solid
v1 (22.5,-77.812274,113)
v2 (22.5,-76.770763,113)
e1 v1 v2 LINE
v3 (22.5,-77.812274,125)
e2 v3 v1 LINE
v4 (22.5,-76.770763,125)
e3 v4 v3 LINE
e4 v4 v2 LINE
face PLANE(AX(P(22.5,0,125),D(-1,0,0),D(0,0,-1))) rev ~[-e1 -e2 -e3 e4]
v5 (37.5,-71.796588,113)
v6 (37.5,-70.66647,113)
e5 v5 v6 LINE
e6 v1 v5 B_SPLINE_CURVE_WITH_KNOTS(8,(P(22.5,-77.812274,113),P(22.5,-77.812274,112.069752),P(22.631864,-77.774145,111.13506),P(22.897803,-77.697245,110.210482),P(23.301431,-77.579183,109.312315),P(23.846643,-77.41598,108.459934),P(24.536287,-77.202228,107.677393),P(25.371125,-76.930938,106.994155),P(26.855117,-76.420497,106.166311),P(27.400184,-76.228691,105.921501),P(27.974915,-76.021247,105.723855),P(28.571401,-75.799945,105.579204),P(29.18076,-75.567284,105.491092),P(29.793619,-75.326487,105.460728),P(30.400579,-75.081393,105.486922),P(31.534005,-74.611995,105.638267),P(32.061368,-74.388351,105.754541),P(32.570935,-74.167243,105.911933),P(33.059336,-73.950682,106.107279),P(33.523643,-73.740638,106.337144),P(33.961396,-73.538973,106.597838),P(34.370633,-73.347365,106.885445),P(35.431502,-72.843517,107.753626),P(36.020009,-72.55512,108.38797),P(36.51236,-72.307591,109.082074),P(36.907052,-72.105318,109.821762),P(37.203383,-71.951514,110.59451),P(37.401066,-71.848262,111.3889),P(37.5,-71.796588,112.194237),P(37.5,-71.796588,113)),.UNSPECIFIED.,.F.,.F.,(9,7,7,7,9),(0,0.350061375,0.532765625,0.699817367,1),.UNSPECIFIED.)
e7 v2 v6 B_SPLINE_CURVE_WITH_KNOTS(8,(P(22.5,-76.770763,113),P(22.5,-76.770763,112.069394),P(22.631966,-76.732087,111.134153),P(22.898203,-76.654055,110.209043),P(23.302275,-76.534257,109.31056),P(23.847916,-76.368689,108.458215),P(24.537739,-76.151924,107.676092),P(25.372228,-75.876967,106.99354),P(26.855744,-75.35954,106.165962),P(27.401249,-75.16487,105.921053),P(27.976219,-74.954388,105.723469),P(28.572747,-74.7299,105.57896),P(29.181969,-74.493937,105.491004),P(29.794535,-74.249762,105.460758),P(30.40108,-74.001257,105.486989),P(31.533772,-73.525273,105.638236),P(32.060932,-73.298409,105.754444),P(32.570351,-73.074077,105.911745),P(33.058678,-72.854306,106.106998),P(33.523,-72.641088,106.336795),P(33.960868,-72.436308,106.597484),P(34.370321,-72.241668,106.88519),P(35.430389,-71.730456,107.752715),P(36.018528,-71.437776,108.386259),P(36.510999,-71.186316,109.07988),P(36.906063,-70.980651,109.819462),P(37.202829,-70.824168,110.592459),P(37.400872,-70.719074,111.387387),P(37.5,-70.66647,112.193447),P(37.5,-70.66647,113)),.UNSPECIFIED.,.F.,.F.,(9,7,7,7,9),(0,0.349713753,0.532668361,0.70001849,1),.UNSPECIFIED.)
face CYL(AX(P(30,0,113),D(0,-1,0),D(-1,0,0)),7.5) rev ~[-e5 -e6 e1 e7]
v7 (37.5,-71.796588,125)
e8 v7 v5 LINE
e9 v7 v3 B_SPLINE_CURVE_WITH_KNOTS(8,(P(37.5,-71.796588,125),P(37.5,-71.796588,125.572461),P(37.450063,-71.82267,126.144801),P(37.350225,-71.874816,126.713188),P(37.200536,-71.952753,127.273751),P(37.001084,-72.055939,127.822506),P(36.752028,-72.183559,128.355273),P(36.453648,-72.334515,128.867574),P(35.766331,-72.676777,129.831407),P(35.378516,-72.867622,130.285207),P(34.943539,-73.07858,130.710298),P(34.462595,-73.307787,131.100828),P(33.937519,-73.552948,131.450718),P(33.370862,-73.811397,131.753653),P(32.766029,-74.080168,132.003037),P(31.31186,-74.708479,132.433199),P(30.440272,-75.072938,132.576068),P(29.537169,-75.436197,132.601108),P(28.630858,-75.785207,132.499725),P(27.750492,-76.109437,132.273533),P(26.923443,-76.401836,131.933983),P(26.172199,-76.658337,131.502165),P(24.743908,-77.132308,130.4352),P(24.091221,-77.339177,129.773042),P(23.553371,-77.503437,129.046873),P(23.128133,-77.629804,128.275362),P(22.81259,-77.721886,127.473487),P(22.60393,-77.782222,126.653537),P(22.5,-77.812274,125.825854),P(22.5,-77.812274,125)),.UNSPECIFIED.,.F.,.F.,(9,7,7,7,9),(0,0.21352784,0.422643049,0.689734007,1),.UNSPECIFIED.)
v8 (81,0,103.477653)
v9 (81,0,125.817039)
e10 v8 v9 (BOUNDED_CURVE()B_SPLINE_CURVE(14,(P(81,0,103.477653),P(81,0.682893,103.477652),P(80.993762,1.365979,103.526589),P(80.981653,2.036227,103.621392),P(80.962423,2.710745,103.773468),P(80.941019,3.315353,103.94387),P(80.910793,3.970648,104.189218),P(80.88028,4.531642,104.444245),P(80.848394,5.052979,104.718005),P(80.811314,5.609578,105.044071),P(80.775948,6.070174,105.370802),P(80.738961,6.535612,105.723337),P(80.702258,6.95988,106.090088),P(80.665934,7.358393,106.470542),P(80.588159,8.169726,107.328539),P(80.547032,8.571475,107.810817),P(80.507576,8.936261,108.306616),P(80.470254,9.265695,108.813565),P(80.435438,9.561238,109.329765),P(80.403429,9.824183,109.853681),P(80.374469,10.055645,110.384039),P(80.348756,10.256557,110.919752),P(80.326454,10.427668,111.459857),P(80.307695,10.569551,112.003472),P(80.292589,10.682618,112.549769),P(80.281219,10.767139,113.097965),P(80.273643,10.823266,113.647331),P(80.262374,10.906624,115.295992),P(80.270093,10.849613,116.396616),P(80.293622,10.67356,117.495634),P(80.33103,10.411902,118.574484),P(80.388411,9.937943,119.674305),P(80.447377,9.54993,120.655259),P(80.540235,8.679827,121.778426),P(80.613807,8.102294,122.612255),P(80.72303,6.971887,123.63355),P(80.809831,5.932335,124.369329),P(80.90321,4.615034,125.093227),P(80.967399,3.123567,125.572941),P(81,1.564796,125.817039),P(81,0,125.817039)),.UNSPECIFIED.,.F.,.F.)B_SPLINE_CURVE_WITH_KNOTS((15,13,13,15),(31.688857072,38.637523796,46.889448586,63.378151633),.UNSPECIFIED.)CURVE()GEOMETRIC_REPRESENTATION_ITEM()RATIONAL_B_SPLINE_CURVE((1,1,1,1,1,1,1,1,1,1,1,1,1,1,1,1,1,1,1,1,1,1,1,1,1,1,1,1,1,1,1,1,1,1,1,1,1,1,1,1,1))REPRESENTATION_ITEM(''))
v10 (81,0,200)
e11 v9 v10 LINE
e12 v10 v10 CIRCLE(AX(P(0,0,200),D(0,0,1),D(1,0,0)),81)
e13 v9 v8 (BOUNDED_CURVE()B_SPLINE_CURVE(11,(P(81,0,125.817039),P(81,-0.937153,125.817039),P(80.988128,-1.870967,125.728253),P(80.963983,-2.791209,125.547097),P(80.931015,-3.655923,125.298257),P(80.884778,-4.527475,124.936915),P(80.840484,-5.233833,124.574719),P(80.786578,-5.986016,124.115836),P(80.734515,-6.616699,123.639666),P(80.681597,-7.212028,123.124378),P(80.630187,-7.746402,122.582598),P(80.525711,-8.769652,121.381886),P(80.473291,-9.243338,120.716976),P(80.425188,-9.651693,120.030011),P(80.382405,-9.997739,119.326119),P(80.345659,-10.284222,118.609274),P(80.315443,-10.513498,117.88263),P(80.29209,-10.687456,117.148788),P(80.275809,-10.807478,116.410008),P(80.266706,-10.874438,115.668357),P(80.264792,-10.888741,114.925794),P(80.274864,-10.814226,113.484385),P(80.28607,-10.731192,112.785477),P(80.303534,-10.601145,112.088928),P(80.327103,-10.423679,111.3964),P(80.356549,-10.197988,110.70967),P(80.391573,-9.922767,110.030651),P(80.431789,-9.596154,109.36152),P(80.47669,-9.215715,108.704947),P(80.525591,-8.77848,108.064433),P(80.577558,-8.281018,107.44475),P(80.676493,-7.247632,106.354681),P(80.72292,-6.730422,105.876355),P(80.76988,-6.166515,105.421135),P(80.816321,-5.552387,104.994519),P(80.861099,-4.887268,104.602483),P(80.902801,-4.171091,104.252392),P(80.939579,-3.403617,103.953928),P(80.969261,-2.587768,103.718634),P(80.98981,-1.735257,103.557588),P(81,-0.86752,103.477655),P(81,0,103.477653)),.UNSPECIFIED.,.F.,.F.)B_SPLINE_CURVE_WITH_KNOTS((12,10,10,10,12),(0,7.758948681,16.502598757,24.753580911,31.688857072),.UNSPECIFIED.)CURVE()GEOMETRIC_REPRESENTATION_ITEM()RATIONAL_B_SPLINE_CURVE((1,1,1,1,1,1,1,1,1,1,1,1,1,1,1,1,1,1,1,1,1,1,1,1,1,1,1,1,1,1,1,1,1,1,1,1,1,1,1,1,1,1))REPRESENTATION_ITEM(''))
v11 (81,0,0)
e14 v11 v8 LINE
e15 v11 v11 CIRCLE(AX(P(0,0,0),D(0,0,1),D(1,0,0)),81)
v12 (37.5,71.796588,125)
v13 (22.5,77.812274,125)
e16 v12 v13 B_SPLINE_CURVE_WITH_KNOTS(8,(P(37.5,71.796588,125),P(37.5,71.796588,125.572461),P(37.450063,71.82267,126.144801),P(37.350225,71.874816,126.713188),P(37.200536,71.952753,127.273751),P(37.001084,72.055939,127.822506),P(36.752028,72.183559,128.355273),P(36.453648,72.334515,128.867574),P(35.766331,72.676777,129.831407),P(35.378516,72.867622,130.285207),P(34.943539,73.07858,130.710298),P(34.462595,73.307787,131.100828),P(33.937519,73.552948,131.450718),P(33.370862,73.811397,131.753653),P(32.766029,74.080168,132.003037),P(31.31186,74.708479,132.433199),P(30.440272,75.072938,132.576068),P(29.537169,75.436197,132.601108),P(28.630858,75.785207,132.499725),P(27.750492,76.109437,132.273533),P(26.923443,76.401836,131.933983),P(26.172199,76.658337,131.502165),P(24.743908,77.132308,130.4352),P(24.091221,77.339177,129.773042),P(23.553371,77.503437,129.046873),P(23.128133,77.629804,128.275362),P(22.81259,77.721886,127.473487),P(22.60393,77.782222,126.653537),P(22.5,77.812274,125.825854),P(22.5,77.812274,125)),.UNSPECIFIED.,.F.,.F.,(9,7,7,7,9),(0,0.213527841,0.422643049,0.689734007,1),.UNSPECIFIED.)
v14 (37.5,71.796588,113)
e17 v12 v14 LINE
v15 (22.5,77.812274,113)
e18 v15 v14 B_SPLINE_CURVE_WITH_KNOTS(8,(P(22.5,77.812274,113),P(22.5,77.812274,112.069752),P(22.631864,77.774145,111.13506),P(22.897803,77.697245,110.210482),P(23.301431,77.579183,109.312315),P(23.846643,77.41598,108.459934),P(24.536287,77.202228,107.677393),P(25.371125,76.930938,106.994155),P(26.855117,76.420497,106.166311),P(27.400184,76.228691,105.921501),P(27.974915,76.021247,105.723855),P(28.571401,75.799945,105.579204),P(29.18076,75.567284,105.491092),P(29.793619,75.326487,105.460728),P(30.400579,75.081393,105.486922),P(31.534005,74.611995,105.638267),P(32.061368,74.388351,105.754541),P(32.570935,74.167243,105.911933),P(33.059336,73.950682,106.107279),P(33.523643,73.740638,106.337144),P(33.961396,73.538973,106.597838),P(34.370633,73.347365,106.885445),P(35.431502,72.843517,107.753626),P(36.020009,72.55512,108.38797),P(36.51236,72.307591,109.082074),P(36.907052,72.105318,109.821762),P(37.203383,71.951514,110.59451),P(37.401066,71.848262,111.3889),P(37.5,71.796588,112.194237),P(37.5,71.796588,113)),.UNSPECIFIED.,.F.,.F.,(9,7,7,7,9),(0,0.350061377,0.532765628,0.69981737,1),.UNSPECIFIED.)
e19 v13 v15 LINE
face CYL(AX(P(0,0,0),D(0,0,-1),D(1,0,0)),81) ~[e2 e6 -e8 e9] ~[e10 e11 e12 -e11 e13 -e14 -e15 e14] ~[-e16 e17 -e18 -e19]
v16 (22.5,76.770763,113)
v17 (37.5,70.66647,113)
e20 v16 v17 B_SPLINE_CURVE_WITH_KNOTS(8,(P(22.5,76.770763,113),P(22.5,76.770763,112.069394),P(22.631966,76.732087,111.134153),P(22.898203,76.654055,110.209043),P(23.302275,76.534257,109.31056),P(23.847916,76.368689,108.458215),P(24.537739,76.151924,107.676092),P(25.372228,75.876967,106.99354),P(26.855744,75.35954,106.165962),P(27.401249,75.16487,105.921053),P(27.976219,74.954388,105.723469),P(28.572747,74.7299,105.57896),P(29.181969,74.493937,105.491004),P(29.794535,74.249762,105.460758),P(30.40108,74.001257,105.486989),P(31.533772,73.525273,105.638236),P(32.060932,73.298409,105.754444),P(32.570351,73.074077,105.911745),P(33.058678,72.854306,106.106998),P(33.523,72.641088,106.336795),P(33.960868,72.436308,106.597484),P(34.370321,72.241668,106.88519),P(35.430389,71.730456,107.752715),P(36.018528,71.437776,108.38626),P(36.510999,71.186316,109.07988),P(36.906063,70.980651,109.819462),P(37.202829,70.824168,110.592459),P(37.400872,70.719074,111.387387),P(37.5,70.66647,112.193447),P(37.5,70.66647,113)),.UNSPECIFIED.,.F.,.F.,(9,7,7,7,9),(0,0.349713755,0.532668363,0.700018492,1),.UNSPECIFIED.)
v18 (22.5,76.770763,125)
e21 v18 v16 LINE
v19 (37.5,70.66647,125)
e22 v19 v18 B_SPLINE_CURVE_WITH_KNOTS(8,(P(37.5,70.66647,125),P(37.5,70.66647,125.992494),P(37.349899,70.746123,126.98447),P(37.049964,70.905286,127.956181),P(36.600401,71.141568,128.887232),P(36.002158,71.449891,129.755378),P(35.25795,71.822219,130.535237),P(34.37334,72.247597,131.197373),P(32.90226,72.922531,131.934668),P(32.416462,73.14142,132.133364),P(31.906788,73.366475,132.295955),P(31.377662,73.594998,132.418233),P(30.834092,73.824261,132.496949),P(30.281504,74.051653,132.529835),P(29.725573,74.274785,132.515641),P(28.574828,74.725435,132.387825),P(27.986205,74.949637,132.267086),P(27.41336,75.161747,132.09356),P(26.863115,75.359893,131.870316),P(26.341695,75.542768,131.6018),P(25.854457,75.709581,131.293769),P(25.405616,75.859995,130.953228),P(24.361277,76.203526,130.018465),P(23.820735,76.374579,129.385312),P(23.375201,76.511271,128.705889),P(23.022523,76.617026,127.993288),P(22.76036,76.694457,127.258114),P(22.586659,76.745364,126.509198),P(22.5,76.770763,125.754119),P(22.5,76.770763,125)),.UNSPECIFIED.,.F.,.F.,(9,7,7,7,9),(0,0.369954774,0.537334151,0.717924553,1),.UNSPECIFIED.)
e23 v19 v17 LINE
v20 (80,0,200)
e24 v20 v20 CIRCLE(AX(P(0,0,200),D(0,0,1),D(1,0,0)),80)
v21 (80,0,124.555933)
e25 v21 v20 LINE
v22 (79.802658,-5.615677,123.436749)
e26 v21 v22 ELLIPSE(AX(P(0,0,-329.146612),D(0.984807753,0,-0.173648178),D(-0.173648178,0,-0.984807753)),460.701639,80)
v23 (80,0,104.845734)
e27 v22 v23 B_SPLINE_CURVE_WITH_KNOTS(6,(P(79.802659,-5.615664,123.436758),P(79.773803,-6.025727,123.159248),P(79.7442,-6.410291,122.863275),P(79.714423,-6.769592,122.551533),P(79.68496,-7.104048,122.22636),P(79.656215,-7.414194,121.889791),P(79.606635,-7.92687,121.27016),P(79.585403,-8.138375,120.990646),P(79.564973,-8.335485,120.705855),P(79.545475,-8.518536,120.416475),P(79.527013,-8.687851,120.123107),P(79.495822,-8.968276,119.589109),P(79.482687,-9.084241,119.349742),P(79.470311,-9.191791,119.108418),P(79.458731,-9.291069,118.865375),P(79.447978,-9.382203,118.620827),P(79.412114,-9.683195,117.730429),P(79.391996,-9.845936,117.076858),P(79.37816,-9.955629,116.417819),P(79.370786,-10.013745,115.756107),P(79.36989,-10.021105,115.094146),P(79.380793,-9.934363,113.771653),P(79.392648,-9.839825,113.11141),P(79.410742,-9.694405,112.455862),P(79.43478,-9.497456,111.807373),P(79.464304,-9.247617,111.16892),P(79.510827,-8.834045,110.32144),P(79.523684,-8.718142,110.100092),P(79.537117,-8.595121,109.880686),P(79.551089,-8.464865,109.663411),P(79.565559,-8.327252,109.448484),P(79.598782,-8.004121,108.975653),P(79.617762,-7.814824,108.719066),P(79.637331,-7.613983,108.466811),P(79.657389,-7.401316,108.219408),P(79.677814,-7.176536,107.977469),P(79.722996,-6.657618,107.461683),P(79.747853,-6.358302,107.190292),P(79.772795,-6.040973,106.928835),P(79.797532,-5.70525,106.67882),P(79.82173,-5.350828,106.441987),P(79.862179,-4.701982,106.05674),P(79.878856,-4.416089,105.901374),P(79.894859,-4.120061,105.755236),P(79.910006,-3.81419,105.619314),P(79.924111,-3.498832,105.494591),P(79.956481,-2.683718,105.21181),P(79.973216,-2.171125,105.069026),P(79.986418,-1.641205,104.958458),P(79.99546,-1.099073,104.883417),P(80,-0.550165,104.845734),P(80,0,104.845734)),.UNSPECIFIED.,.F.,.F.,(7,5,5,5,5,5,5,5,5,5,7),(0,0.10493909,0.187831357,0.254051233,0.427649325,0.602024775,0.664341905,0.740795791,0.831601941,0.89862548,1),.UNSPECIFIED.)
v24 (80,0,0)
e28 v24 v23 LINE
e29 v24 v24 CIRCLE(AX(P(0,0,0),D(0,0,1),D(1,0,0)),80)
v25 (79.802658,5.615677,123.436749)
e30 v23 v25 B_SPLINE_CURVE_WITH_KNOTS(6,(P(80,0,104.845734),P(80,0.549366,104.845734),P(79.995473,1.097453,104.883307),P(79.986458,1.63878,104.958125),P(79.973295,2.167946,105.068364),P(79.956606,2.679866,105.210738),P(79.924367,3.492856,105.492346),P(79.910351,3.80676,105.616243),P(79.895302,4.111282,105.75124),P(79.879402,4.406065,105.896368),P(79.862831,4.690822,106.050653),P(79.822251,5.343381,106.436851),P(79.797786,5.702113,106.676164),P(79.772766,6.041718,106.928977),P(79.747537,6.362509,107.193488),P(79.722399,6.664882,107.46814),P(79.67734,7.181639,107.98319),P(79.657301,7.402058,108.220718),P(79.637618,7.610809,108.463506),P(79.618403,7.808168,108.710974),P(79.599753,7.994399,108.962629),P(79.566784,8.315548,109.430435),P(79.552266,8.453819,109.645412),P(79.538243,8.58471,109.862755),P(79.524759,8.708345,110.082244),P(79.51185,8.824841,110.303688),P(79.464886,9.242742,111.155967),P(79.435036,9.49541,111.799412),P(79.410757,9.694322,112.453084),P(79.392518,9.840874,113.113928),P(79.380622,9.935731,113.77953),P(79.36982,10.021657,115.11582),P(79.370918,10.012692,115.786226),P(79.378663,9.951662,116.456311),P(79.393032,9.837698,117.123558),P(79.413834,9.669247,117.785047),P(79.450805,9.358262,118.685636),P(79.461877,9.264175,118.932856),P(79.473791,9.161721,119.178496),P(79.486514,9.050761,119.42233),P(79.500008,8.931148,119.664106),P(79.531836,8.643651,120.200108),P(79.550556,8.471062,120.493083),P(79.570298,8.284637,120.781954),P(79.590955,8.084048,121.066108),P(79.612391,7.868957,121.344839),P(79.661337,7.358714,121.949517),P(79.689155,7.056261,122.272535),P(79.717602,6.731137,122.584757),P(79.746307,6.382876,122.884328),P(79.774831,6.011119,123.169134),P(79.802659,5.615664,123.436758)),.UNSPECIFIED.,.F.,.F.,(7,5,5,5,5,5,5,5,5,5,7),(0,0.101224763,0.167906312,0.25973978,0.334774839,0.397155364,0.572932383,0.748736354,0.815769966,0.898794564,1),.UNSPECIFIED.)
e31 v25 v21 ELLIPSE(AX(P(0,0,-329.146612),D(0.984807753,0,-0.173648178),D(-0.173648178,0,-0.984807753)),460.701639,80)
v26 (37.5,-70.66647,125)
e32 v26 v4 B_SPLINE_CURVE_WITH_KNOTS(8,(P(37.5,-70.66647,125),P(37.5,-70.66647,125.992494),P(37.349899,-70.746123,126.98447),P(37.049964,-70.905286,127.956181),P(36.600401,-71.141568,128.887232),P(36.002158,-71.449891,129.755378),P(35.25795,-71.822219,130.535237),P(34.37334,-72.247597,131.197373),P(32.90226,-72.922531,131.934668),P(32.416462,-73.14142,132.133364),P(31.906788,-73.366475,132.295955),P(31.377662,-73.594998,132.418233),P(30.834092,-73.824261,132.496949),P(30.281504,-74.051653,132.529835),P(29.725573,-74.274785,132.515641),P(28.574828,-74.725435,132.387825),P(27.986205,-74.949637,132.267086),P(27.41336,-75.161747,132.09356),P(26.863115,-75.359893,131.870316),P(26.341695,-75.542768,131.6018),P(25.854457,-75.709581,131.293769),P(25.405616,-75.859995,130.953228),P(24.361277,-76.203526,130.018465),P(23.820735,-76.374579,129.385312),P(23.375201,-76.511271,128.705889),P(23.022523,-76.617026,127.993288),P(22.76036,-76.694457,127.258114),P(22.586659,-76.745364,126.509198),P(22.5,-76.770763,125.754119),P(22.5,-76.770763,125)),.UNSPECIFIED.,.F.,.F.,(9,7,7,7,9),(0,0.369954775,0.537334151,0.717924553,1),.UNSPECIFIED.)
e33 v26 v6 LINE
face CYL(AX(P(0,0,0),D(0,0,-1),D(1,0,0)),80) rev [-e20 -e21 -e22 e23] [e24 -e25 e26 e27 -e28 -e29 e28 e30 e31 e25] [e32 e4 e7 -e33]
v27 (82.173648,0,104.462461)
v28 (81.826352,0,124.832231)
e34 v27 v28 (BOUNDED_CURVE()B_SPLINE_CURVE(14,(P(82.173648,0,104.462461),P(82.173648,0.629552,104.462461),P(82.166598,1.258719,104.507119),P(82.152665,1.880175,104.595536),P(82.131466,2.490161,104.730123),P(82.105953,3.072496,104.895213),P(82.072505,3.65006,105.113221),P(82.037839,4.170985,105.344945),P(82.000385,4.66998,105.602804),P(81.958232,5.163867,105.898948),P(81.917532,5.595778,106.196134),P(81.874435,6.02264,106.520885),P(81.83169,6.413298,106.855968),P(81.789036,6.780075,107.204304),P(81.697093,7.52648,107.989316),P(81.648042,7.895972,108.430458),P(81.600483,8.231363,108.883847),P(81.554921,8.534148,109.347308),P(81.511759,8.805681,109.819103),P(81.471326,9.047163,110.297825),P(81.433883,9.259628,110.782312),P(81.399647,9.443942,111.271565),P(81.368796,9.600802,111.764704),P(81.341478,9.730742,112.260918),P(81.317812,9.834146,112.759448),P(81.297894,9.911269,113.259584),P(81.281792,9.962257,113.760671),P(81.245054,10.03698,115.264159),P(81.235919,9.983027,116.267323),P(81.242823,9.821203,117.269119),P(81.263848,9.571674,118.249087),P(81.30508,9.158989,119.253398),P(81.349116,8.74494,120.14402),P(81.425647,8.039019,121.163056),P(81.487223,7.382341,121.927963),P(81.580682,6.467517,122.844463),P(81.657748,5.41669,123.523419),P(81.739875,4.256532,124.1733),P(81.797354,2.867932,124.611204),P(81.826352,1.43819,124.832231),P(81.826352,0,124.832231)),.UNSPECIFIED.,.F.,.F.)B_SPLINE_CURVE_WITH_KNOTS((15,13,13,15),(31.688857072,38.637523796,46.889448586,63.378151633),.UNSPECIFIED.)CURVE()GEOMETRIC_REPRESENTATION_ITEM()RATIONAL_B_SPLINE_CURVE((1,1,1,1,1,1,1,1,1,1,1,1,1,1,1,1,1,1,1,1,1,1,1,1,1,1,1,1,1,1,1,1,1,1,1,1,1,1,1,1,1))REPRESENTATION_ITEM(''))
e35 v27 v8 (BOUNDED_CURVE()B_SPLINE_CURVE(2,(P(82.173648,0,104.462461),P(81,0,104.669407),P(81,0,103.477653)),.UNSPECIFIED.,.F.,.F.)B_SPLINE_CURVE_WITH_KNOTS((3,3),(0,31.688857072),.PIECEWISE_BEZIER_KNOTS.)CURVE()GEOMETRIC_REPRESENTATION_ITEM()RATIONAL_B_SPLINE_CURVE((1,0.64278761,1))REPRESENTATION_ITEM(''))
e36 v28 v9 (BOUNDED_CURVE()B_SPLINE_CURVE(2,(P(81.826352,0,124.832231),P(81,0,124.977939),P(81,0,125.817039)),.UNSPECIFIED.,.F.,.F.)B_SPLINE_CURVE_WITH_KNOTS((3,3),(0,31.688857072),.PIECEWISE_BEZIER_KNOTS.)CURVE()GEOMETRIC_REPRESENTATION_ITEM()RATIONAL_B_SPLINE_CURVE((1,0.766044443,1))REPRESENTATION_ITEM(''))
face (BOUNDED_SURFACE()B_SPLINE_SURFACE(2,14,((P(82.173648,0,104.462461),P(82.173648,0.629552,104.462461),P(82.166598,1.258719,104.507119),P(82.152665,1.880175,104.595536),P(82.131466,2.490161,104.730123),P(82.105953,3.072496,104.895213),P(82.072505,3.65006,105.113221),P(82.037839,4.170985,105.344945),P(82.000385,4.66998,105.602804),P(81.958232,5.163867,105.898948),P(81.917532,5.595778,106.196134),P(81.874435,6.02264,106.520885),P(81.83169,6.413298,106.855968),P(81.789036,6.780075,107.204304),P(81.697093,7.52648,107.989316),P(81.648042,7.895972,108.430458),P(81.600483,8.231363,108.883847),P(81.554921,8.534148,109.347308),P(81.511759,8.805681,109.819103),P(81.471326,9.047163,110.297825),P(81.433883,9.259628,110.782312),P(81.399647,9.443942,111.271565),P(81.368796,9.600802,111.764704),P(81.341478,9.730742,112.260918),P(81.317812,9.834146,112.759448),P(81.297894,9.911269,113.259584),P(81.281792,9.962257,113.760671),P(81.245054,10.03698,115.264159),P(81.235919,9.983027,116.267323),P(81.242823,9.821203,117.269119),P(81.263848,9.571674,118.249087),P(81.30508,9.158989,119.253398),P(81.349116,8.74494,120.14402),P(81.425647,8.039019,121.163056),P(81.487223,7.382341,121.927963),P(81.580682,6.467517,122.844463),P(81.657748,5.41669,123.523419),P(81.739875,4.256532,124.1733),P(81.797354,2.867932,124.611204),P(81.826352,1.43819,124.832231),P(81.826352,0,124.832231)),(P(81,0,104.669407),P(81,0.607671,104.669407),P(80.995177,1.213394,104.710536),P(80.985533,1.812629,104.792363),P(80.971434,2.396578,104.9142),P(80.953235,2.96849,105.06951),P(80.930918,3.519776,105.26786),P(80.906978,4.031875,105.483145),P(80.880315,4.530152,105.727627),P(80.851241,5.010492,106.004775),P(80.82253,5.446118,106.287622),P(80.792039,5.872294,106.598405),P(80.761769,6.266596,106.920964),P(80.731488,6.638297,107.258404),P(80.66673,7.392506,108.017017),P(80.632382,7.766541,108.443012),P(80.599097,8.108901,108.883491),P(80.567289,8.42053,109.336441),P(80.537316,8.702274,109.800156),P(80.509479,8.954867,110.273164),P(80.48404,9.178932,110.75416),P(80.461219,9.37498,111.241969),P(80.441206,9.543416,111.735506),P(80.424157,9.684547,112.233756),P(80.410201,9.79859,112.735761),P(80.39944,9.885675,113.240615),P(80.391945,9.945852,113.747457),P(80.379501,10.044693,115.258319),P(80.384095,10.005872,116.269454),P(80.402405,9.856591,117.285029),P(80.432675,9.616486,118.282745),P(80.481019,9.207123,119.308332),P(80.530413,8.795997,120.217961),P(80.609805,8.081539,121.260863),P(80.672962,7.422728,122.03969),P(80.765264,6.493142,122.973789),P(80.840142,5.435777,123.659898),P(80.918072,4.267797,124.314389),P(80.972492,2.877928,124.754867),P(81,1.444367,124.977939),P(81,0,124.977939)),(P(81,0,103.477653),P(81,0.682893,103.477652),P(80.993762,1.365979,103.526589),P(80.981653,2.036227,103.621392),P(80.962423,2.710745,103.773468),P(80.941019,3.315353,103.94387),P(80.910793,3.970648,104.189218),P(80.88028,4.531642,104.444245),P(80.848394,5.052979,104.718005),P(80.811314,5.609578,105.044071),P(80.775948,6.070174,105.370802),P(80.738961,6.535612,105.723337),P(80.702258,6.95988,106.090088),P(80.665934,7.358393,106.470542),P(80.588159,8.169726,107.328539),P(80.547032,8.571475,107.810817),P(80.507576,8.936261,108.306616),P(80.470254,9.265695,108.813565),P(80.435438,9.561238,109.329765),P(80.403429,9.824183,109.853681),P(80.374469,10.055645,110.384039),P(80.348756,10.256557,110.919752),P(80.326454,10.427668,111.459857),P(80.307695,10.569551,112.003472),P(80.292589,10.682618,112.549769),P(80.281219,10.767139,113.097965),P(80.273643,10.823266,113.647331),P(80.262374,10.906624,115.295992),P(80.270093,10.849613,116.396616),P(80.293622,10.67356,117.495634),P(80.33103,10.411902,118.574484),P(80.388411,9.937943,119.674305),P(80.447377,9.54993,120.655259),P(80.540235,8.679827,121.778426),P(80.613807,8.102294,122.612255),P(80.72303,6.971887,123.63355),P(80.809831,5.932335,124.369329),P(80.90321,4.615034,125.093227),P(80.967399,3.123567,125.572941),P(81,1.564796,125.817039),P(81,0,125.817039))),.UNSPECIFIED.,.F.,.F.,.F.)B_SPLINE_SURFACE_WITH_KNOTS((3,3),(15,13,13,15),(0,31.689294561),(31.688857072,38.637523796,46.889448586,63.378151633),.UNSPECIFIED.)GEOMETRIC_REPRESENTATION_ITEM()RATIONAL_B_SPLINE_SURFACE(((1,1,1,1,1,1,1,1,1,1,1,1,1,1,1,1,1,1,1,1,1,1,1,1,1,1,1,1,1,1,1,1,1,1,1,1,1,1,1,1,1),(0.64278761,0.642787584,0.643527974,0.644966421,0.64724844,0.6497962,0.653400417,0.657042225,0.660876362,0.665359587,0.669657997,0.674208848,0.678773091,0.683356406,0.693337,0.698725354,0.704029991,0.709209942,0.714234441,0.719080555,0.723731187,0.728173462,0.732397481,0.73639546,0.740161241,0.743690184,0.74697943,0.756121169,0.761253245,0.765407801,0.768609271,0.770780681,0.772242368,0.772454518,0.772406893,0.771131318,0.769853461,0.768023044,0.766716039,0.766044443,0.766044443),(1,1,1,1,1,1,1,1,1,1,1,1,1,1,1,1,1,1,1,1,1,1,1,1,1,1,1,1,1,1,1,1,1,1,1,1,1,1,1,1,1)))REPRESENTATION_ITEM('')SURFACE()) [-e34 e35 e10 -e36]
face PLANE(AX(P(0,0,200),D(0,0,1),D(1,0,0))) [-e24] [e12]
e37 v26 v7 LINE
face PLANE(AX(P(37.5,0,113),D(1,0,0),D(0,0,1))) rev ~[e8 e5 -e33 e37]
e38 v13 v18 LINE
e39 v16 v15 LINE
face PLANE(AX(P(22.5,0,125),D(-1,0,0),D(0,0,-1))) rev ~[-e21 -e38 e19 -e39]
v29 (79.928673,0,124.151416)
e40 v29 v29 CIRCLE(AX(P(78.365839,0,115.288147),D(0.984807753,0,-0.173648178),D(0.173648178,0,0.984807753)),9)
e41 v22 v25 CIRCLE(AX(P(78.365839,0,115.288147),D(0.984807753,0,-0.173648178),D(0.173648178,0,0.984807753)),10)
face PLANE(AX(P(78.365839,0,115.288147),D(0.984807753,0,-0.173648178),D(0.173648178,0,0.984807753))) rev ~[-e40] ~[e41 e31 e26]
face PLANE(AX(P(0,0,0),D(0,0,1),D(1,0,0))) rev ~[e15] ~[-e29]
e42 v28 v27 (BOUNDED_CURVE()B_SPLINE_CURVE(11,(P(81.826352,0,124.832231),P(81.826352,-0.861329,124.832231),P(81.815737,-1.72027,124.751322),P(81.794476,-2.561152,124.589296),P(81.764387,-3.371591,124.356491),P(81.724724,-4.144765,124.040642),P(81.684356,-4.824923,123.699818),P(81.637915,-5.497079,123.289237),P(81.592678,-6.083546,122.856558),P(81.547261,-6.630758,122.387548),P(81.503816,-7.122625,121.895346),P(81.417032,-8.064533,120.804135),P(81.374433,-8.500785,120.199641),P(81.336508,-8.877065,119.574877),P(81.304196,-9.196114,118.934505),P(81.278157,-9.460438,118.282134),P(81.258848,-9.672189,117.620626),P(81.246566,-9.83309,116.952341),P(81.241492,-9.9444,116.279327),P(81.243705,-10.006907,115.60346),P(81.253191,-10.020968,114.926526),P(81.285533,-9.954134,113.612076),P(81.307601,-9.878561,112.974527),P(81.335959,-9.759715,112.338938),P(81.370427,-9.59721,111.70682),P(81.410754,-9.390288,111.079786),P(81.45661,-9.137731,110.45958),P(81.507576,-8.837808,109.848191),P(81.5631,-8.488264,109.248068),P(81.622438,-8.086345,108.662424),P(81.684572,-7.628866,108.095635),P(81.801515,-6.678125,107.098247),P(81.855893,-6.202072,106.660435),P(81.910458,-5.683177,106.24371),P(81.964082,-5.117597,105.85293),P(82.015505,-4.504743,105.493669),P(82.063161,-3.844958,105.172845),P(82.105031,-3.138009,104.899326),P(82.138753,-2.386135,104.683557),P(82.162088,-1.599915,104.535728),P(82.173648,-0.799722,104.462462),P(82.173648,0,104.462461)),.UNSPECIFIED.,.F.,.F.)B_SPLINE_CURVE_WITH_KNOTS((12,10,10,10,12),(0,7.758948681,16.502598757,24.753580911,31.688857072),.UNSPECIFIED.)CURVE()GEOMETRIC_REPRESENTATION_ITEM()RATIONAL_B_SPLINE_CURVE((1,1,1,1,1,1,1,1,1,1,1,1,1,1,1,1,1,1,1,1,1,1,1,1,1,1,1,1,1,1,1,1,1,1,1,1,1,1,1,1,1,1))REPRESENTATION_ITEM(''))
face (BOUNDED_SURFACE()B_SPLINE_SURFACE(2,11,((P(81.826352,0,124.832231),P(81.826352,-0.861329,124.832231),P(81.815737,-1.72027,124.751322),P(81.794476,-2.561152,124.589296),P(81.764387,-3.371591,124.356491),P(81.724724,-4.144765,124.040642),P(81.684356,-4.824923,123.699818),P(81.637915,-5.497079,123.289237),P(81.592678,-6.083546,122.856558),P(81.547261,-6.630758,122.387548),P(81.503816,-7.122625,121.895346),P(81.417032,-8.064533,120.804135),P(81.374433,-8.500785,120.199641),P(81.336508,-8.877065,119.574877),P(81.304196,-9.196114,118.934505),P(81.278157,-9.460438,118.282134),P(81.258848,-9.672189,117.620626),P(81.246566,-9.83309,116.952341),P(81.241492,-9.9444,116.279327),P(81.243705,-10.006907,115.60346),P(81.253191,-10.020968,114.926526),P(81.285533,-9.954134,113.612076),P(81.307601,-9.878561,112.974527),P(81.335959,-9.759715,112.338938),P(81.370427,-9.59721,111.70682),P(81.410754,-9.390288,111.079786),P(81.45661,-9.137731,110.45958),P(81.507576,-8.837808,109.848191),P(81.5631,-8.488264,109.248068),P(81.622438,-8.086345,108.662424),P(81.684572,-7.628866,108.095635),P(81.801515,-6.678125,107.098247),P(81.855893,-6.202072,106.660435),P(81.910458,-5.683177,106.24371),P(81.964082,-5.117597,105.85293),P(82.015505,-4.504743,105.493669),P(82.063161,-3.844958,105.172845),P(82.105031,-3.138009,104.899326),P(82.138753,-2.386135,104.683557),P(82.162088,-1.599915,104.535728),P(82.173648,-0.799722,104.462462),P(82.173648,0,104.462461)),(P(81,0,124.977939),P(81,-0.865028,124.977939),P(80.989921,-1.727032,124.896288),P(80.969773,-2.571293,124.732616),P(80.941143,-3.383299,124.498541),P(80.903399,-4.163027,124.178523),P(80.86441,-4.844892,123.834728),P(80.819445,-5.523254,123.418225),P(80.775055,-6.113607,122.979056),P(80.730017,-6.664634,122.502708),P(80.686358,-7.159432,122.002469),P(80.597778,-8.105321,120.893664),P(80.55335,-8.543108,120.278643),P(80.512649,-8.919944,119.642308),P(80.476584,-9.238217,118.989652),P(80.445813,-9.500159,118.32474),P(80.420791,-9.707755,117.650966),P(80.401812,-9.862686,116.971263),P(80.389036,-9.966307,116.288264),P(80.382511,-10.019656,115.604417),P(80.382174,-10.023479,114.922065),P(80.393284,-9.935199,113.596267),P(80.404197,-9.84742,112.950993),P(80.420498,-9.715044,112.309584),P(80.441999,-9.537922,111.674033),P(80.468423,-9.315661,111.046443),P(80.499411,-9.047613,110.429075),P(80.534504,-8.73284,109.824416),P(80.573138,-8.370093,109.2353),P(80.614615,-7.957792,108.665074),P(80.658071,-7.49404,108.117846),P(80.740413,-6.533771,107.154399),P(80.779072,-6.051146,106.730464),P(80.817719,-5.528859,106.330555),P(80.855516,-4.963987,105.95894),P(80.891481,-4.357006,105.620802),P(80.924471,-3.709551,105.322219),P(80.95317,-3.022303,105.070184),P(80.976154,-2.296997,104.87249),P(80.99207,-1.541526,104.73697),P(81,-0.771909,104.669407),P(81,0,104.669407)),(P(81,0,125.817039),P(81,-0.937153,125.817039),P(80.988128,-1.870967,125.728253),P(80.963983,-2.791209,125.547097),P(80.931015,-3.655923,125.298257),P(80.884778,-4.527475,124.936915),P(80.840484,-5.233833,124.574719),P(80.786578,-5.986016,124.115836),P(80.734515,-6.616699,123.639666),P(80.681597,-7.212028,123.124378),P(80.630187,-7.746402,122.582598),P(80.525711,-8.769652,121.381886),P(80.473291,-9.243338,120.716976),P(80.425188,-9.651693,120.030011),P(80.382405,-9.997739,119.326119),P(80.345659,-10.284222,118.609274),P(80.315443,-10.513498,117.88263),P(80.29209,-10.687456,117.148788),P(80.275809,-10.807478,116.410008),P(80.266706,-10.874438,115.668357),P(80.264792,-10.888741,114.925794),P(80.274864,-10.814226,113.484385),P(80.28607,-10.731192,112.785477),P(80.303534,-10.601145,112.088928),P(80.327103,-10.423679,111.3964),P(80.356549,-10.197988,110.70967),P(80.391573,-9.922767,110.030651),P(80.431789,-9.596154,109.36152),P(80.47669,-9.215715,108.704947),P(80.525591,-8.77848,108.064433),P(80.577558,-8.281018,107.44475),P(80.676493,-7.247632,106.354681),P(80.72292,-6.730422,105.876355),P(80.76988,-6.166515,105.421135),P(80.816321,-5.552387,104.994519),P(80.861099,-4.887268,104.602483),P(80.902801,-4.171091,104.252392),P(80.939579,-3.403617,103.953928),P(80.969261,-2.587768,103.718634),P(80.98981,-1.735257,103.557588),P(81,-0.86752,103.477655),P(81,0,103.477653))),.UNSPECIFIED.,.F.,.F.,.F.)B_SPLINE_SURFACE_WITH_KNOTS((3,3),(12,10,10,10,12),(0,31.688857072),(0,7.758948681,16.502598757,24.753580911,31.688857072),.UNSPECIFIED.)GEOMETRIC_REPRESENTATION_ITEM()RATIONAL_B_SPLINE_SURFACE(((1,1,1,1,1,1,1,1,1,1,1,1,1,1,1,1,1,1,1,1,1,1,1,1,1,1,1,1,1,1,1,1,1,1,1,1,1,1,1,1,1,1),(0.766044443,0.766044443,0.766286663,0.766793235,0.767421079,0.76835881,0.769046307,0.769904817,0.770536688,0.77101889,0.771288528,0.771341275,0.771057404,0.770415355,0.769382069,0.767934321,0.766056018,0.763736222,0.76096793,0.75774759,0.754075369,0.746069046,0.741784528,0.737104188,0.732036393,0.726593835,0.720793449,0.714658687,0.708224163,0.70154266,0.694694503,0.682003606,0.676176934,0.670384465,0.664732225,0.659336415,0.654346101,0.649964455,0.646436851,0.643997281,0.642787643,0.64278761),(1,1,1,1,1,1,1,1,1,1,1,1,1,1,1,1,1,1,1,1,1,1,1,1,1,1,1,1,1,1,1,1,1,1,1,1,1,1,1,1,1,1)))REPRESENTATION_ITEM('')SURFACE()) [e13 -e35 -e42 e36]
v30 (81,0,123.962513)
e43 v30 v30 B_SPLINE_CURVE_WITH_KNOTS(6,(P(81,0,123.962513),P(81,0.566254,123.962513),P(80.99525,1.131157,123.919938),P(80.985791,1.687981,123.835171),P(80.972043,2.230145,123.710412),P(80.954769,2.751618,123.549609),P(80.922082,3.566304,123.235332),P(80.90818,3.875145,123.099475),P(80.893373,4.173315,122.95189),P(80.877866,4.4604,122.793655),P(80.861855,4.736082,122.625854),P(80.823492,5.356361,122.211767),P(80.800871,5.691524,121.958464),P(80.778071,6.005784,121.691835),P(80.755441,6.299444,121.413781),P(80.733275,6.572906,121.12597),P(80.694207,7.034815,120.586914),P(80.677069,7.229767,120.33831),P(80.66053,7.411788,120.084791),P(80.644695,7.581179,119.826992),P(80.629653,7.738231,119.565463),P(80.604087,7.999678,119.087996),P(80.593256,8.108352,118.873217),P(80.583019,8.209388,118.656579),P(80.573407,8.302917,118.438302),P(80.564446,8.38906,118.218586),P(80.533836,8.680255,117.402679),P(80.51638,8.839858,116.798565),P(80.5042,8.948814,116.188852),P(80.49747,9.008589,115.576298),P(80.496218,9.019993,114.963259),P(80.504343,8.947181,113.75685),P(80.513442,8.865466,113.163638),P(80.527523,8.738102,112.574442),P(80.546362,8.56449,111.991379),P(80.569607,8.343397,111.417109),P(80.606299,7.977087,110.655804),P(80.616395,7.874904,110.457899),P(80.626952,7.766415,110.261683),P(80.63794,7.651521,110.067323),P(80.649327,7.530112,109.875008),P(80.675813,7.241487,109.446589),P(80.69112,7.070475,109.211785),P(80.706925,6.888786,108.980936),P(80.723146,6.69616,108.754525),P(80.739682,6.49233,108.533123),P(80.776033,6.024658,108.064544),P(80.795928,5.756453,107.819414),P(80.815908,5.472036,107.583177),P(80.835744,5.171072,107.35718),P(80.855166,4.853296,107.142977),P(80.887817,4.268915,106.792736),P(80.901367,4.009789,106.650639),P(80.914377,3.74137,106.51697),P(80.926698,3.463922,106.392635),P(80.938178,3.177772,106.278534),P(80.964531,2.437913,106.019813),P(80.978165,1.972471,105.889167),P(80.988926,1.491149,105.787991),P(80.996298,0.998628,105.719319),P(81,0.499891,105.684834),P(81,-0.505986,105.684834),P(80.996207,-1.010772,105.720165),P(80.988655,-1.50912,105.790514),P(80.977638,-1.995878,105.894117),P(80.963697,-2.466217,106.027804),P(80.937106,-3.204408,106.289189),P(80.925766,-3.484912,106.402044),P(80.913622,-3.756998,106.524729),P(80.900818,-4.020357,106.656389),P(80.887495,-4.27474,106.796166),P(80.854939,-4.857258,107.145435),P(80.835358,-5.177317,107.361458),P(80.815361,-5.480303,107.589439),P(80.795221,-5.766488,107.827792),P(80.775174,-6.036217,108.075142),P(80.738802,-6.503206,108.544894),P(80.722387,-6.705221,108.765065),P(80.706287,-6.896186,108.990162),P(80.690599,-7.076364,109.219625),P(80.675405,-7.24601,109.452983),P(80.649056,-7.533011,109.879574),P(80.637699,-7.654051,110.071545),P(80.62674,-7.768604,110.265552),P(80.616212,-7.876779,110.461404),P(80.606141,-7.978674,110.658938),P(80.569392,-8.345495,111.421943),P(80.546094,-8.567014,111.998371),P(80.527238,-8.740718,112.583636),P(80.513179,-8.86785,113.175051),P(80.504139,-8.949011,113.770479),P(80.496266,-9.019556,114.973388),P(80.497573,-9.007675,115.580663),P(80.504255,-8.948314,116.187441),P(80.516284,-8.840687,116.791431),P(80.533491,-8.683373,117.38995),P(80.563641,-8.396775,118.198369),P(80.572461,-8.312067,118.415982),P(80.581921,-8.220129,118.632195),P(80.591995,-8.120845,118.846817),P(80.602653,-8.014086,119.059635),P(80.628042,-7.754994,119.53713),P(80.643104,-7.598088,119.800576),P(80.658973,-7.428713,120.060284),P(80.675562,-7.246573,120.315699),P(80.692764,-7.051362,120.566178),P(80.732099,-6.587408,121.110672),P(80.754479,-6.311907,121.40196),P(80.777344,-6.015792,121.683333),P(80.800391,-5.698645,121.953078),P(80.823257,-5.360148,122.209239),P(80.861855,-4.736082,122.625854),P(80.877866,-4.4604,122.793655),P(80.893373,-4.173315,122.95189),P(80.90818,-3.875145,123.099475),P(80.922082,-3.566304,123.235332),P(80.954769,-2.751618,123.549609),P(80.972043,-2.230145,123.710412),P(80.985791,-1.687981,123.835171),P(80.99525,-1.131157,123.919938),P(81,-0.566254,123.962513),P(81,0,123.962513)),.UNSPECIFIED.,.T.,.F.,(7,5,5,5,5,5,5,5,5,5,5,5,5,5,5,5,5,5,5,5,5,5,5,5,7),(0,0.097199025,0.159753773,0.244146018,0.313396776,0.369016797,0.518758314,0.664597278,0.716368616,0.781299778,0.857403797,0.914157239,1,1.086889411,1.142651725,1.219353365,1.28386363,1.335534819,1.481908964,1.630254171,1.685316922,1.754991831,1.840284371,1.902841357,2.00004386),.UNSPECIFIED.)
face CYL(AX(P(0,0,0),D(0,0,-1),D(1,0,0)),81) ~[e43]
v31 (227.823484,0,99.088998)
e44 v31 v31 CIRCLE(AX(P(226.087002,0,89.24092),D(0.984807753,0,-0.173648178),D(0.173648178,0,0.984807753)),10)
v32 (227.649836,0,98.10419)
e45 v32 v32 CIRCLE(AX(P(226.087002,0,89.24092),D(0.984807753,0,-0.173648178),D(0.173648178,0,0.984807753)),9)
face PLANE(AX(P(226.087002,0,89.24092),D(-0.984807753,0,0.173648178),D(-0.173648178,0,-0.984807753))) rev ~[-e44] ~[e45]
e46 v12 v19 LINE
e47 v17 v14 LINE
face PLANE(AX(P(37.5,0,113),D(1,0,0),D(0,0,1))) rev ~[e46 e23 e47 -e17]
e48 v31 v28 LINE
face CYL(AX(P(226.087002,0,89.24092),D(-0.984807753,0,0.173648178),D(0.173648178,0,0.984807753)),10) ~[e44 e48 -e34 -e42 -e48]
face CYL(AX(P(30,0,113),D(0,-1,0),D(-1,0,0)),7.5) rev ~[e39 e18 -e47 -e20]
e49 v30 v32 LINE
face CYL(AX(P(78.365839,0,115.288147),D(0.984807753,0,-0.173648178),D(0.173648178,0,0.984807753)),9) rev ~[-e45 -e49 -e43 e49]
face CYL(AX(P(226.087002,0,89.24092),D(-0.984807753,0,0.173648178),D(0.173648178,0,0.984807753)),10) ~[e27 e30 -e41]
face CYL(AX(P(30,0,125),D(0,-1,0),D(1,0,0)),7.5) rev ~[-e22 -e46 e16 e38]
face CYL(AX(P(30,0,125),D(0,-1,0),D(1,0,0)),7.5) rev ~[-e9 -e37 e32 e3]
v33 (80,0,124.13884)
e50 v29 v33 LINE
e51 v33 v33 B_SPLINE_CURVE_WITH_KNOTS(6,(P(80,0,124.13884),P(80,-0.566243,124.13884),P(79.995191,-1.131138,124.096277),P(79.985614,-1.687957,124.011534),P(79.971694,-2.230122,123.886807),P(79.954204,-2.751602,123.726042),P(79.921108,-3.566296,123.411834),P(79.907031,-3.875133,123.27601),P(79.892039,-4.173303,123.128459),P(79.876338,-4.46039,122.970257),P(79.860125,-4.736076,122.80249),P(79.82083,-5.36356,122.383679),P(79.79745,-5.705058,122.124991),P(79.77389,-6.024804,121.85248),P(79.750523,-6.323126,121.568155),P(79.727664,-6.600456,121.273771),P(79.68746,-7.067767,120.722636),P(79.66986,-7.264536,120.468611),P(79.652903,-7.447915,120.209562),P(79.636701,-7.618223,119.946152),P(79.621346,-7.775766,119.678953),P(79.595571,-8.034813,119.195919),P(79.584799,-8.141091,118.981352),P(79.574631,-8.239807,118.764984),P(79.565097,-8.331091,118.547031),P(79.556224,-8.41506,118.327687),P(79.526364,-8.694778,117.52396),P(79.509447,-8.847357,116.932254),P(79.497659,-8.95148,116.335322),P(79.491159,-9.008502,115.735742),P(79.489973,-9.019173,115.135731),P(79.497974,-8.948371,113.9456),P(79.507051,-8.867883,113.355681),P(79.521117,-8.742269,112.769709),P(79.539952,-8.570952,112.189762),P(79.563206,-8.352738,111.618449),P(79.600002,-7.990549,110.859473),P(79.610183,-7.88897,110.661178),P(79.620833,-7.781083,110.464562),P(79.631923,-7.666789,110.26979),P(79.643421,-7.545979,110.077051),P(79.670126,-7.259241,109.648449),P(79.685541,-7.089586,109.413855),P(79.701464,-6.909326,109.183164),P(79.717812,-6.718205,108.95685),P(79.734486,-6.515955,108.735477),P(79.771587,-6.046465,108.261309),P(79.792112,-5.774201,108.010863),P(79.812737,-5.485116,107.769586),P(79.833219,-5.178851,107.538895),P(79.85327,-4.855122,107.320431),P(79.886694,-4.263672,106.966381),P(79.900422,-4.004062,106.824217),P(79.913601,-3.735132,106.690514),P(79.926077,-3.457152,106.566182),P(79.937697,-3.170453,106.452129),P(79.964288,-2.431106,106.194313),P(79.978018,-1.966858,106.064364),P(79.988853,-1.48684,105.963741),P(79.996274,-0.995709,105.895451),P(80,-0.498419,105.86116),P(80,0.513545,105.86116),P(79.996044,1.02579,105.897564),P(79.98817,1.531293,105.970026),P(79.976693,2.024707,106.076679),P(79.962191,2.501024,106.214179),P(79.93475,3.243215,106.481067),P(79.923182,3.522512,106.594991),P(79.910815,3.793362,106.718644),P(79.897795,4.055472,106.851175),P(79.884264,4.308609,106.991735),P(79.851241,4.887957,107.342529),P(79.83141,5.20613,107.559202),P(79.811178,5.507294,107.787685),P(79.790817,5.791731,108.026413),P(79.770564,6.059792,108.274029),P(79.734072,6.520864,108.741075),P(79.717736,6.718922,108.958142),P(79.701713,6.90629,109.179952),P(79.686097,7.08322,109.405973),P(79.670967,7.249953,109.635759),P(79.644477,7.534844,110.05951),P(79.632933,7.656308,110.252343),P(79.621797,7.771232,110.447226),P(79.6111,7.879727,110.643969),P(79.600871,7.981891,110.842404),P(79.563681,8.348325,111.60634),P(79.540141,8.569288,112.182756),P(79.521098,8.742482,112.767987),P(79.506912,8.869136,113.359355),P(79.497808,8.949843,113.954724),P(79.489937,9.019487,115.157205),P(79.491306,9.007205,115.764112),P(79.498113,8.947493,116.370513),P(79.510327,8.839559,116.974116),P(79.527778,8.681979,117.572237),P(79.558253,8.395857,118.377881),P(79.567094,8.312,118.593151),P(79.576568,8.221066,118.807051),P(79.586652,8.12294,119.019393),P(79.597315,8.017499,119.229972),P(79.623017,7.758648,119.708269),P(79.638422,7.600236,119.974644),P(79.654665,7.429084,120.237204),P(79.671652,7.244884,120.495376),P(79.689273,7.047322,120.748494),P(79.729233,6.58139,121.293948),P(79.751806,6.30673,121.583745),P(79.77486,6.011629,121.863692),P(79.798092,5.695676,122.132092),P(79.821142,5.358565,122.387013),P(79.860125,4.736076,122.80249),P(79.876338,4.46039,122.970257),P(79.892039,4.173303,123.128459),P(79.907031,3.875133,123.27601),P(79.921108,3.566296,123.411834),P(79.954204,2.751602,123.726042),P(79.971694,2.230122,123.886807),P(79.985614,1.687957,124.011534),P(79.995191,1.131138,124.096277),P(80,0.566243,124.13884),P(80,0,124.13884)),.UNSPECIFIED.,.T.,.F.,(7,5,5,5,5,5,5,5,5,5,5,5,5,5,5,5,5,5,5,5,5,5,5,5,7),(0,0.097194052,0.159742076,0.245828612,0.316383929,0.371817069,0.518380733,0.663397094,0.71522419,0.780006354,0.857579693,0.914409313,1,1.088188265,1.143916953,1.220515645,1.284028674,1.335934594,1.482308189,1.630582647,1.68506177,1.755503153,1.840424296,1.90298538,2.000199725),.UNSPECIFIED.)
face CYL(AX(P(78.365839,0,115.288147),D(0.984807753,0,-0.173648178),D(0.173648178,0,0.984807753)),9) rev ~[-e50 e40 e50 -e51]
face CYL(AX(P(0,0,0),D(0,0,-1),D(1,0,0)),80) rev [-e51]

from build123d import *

# Parameters (mm, degrees)
F0_R     = 81
F0_R_2   = 80
F1_DEPTH = 200
F3_DEPTH = 150
F6_R     = 1


with BuildPart() as f1:
    # F0 (on Top) → F1 (new body)
    with BuildSketch(Plane.XY):
        Circle(F0_R)
        Circle(F0_R_2, mode=Mode.SUBTRACT)
    extrude(amount=F1_DEPTH)

    # F2 (on Front) → F3 (cut, symmetric)
    with BuildSketch(Plane.XZ):
        with BuildLine():
            Line((37.5, 113), (37.5, 125))
            ThreePointArc((37.5, 125), (30, 132.5), (22.5, 125))
            Line((22.5, 125), (22.5, 113))
            ThreePointArc((22.5, 113), (30, 105.5), (37.5, 113))
        make_face()
    extrude(amount=F3_DEPTH, both=True, mode=Mode.SUBTRACT)

    # F4 (on Front) → F5 (revolve)
    with BuildSketch(Plane.XZ):
        Polygon((227.8234839022, 99.0889975246), (80.1023209503, 125.1362241746), (79.9286727727, 124.1514164216), (227.6498357245, 98.1041897716), align=None)
    revolve(axis=Axis((158.0200701243, 0, 101.2429566003), (0.984807753, 0, -0.1736481777)))

    # F6
    f6_edges = [f1.edges().sort_by_distance(p)[0] for p in [
        (80.380378, -9.99974, 114.85969),
        (80.380378, 9.99974, 114.85969),
    ]]
    fillet(f6_edges, radius=F6_R)


solid = f1.part
